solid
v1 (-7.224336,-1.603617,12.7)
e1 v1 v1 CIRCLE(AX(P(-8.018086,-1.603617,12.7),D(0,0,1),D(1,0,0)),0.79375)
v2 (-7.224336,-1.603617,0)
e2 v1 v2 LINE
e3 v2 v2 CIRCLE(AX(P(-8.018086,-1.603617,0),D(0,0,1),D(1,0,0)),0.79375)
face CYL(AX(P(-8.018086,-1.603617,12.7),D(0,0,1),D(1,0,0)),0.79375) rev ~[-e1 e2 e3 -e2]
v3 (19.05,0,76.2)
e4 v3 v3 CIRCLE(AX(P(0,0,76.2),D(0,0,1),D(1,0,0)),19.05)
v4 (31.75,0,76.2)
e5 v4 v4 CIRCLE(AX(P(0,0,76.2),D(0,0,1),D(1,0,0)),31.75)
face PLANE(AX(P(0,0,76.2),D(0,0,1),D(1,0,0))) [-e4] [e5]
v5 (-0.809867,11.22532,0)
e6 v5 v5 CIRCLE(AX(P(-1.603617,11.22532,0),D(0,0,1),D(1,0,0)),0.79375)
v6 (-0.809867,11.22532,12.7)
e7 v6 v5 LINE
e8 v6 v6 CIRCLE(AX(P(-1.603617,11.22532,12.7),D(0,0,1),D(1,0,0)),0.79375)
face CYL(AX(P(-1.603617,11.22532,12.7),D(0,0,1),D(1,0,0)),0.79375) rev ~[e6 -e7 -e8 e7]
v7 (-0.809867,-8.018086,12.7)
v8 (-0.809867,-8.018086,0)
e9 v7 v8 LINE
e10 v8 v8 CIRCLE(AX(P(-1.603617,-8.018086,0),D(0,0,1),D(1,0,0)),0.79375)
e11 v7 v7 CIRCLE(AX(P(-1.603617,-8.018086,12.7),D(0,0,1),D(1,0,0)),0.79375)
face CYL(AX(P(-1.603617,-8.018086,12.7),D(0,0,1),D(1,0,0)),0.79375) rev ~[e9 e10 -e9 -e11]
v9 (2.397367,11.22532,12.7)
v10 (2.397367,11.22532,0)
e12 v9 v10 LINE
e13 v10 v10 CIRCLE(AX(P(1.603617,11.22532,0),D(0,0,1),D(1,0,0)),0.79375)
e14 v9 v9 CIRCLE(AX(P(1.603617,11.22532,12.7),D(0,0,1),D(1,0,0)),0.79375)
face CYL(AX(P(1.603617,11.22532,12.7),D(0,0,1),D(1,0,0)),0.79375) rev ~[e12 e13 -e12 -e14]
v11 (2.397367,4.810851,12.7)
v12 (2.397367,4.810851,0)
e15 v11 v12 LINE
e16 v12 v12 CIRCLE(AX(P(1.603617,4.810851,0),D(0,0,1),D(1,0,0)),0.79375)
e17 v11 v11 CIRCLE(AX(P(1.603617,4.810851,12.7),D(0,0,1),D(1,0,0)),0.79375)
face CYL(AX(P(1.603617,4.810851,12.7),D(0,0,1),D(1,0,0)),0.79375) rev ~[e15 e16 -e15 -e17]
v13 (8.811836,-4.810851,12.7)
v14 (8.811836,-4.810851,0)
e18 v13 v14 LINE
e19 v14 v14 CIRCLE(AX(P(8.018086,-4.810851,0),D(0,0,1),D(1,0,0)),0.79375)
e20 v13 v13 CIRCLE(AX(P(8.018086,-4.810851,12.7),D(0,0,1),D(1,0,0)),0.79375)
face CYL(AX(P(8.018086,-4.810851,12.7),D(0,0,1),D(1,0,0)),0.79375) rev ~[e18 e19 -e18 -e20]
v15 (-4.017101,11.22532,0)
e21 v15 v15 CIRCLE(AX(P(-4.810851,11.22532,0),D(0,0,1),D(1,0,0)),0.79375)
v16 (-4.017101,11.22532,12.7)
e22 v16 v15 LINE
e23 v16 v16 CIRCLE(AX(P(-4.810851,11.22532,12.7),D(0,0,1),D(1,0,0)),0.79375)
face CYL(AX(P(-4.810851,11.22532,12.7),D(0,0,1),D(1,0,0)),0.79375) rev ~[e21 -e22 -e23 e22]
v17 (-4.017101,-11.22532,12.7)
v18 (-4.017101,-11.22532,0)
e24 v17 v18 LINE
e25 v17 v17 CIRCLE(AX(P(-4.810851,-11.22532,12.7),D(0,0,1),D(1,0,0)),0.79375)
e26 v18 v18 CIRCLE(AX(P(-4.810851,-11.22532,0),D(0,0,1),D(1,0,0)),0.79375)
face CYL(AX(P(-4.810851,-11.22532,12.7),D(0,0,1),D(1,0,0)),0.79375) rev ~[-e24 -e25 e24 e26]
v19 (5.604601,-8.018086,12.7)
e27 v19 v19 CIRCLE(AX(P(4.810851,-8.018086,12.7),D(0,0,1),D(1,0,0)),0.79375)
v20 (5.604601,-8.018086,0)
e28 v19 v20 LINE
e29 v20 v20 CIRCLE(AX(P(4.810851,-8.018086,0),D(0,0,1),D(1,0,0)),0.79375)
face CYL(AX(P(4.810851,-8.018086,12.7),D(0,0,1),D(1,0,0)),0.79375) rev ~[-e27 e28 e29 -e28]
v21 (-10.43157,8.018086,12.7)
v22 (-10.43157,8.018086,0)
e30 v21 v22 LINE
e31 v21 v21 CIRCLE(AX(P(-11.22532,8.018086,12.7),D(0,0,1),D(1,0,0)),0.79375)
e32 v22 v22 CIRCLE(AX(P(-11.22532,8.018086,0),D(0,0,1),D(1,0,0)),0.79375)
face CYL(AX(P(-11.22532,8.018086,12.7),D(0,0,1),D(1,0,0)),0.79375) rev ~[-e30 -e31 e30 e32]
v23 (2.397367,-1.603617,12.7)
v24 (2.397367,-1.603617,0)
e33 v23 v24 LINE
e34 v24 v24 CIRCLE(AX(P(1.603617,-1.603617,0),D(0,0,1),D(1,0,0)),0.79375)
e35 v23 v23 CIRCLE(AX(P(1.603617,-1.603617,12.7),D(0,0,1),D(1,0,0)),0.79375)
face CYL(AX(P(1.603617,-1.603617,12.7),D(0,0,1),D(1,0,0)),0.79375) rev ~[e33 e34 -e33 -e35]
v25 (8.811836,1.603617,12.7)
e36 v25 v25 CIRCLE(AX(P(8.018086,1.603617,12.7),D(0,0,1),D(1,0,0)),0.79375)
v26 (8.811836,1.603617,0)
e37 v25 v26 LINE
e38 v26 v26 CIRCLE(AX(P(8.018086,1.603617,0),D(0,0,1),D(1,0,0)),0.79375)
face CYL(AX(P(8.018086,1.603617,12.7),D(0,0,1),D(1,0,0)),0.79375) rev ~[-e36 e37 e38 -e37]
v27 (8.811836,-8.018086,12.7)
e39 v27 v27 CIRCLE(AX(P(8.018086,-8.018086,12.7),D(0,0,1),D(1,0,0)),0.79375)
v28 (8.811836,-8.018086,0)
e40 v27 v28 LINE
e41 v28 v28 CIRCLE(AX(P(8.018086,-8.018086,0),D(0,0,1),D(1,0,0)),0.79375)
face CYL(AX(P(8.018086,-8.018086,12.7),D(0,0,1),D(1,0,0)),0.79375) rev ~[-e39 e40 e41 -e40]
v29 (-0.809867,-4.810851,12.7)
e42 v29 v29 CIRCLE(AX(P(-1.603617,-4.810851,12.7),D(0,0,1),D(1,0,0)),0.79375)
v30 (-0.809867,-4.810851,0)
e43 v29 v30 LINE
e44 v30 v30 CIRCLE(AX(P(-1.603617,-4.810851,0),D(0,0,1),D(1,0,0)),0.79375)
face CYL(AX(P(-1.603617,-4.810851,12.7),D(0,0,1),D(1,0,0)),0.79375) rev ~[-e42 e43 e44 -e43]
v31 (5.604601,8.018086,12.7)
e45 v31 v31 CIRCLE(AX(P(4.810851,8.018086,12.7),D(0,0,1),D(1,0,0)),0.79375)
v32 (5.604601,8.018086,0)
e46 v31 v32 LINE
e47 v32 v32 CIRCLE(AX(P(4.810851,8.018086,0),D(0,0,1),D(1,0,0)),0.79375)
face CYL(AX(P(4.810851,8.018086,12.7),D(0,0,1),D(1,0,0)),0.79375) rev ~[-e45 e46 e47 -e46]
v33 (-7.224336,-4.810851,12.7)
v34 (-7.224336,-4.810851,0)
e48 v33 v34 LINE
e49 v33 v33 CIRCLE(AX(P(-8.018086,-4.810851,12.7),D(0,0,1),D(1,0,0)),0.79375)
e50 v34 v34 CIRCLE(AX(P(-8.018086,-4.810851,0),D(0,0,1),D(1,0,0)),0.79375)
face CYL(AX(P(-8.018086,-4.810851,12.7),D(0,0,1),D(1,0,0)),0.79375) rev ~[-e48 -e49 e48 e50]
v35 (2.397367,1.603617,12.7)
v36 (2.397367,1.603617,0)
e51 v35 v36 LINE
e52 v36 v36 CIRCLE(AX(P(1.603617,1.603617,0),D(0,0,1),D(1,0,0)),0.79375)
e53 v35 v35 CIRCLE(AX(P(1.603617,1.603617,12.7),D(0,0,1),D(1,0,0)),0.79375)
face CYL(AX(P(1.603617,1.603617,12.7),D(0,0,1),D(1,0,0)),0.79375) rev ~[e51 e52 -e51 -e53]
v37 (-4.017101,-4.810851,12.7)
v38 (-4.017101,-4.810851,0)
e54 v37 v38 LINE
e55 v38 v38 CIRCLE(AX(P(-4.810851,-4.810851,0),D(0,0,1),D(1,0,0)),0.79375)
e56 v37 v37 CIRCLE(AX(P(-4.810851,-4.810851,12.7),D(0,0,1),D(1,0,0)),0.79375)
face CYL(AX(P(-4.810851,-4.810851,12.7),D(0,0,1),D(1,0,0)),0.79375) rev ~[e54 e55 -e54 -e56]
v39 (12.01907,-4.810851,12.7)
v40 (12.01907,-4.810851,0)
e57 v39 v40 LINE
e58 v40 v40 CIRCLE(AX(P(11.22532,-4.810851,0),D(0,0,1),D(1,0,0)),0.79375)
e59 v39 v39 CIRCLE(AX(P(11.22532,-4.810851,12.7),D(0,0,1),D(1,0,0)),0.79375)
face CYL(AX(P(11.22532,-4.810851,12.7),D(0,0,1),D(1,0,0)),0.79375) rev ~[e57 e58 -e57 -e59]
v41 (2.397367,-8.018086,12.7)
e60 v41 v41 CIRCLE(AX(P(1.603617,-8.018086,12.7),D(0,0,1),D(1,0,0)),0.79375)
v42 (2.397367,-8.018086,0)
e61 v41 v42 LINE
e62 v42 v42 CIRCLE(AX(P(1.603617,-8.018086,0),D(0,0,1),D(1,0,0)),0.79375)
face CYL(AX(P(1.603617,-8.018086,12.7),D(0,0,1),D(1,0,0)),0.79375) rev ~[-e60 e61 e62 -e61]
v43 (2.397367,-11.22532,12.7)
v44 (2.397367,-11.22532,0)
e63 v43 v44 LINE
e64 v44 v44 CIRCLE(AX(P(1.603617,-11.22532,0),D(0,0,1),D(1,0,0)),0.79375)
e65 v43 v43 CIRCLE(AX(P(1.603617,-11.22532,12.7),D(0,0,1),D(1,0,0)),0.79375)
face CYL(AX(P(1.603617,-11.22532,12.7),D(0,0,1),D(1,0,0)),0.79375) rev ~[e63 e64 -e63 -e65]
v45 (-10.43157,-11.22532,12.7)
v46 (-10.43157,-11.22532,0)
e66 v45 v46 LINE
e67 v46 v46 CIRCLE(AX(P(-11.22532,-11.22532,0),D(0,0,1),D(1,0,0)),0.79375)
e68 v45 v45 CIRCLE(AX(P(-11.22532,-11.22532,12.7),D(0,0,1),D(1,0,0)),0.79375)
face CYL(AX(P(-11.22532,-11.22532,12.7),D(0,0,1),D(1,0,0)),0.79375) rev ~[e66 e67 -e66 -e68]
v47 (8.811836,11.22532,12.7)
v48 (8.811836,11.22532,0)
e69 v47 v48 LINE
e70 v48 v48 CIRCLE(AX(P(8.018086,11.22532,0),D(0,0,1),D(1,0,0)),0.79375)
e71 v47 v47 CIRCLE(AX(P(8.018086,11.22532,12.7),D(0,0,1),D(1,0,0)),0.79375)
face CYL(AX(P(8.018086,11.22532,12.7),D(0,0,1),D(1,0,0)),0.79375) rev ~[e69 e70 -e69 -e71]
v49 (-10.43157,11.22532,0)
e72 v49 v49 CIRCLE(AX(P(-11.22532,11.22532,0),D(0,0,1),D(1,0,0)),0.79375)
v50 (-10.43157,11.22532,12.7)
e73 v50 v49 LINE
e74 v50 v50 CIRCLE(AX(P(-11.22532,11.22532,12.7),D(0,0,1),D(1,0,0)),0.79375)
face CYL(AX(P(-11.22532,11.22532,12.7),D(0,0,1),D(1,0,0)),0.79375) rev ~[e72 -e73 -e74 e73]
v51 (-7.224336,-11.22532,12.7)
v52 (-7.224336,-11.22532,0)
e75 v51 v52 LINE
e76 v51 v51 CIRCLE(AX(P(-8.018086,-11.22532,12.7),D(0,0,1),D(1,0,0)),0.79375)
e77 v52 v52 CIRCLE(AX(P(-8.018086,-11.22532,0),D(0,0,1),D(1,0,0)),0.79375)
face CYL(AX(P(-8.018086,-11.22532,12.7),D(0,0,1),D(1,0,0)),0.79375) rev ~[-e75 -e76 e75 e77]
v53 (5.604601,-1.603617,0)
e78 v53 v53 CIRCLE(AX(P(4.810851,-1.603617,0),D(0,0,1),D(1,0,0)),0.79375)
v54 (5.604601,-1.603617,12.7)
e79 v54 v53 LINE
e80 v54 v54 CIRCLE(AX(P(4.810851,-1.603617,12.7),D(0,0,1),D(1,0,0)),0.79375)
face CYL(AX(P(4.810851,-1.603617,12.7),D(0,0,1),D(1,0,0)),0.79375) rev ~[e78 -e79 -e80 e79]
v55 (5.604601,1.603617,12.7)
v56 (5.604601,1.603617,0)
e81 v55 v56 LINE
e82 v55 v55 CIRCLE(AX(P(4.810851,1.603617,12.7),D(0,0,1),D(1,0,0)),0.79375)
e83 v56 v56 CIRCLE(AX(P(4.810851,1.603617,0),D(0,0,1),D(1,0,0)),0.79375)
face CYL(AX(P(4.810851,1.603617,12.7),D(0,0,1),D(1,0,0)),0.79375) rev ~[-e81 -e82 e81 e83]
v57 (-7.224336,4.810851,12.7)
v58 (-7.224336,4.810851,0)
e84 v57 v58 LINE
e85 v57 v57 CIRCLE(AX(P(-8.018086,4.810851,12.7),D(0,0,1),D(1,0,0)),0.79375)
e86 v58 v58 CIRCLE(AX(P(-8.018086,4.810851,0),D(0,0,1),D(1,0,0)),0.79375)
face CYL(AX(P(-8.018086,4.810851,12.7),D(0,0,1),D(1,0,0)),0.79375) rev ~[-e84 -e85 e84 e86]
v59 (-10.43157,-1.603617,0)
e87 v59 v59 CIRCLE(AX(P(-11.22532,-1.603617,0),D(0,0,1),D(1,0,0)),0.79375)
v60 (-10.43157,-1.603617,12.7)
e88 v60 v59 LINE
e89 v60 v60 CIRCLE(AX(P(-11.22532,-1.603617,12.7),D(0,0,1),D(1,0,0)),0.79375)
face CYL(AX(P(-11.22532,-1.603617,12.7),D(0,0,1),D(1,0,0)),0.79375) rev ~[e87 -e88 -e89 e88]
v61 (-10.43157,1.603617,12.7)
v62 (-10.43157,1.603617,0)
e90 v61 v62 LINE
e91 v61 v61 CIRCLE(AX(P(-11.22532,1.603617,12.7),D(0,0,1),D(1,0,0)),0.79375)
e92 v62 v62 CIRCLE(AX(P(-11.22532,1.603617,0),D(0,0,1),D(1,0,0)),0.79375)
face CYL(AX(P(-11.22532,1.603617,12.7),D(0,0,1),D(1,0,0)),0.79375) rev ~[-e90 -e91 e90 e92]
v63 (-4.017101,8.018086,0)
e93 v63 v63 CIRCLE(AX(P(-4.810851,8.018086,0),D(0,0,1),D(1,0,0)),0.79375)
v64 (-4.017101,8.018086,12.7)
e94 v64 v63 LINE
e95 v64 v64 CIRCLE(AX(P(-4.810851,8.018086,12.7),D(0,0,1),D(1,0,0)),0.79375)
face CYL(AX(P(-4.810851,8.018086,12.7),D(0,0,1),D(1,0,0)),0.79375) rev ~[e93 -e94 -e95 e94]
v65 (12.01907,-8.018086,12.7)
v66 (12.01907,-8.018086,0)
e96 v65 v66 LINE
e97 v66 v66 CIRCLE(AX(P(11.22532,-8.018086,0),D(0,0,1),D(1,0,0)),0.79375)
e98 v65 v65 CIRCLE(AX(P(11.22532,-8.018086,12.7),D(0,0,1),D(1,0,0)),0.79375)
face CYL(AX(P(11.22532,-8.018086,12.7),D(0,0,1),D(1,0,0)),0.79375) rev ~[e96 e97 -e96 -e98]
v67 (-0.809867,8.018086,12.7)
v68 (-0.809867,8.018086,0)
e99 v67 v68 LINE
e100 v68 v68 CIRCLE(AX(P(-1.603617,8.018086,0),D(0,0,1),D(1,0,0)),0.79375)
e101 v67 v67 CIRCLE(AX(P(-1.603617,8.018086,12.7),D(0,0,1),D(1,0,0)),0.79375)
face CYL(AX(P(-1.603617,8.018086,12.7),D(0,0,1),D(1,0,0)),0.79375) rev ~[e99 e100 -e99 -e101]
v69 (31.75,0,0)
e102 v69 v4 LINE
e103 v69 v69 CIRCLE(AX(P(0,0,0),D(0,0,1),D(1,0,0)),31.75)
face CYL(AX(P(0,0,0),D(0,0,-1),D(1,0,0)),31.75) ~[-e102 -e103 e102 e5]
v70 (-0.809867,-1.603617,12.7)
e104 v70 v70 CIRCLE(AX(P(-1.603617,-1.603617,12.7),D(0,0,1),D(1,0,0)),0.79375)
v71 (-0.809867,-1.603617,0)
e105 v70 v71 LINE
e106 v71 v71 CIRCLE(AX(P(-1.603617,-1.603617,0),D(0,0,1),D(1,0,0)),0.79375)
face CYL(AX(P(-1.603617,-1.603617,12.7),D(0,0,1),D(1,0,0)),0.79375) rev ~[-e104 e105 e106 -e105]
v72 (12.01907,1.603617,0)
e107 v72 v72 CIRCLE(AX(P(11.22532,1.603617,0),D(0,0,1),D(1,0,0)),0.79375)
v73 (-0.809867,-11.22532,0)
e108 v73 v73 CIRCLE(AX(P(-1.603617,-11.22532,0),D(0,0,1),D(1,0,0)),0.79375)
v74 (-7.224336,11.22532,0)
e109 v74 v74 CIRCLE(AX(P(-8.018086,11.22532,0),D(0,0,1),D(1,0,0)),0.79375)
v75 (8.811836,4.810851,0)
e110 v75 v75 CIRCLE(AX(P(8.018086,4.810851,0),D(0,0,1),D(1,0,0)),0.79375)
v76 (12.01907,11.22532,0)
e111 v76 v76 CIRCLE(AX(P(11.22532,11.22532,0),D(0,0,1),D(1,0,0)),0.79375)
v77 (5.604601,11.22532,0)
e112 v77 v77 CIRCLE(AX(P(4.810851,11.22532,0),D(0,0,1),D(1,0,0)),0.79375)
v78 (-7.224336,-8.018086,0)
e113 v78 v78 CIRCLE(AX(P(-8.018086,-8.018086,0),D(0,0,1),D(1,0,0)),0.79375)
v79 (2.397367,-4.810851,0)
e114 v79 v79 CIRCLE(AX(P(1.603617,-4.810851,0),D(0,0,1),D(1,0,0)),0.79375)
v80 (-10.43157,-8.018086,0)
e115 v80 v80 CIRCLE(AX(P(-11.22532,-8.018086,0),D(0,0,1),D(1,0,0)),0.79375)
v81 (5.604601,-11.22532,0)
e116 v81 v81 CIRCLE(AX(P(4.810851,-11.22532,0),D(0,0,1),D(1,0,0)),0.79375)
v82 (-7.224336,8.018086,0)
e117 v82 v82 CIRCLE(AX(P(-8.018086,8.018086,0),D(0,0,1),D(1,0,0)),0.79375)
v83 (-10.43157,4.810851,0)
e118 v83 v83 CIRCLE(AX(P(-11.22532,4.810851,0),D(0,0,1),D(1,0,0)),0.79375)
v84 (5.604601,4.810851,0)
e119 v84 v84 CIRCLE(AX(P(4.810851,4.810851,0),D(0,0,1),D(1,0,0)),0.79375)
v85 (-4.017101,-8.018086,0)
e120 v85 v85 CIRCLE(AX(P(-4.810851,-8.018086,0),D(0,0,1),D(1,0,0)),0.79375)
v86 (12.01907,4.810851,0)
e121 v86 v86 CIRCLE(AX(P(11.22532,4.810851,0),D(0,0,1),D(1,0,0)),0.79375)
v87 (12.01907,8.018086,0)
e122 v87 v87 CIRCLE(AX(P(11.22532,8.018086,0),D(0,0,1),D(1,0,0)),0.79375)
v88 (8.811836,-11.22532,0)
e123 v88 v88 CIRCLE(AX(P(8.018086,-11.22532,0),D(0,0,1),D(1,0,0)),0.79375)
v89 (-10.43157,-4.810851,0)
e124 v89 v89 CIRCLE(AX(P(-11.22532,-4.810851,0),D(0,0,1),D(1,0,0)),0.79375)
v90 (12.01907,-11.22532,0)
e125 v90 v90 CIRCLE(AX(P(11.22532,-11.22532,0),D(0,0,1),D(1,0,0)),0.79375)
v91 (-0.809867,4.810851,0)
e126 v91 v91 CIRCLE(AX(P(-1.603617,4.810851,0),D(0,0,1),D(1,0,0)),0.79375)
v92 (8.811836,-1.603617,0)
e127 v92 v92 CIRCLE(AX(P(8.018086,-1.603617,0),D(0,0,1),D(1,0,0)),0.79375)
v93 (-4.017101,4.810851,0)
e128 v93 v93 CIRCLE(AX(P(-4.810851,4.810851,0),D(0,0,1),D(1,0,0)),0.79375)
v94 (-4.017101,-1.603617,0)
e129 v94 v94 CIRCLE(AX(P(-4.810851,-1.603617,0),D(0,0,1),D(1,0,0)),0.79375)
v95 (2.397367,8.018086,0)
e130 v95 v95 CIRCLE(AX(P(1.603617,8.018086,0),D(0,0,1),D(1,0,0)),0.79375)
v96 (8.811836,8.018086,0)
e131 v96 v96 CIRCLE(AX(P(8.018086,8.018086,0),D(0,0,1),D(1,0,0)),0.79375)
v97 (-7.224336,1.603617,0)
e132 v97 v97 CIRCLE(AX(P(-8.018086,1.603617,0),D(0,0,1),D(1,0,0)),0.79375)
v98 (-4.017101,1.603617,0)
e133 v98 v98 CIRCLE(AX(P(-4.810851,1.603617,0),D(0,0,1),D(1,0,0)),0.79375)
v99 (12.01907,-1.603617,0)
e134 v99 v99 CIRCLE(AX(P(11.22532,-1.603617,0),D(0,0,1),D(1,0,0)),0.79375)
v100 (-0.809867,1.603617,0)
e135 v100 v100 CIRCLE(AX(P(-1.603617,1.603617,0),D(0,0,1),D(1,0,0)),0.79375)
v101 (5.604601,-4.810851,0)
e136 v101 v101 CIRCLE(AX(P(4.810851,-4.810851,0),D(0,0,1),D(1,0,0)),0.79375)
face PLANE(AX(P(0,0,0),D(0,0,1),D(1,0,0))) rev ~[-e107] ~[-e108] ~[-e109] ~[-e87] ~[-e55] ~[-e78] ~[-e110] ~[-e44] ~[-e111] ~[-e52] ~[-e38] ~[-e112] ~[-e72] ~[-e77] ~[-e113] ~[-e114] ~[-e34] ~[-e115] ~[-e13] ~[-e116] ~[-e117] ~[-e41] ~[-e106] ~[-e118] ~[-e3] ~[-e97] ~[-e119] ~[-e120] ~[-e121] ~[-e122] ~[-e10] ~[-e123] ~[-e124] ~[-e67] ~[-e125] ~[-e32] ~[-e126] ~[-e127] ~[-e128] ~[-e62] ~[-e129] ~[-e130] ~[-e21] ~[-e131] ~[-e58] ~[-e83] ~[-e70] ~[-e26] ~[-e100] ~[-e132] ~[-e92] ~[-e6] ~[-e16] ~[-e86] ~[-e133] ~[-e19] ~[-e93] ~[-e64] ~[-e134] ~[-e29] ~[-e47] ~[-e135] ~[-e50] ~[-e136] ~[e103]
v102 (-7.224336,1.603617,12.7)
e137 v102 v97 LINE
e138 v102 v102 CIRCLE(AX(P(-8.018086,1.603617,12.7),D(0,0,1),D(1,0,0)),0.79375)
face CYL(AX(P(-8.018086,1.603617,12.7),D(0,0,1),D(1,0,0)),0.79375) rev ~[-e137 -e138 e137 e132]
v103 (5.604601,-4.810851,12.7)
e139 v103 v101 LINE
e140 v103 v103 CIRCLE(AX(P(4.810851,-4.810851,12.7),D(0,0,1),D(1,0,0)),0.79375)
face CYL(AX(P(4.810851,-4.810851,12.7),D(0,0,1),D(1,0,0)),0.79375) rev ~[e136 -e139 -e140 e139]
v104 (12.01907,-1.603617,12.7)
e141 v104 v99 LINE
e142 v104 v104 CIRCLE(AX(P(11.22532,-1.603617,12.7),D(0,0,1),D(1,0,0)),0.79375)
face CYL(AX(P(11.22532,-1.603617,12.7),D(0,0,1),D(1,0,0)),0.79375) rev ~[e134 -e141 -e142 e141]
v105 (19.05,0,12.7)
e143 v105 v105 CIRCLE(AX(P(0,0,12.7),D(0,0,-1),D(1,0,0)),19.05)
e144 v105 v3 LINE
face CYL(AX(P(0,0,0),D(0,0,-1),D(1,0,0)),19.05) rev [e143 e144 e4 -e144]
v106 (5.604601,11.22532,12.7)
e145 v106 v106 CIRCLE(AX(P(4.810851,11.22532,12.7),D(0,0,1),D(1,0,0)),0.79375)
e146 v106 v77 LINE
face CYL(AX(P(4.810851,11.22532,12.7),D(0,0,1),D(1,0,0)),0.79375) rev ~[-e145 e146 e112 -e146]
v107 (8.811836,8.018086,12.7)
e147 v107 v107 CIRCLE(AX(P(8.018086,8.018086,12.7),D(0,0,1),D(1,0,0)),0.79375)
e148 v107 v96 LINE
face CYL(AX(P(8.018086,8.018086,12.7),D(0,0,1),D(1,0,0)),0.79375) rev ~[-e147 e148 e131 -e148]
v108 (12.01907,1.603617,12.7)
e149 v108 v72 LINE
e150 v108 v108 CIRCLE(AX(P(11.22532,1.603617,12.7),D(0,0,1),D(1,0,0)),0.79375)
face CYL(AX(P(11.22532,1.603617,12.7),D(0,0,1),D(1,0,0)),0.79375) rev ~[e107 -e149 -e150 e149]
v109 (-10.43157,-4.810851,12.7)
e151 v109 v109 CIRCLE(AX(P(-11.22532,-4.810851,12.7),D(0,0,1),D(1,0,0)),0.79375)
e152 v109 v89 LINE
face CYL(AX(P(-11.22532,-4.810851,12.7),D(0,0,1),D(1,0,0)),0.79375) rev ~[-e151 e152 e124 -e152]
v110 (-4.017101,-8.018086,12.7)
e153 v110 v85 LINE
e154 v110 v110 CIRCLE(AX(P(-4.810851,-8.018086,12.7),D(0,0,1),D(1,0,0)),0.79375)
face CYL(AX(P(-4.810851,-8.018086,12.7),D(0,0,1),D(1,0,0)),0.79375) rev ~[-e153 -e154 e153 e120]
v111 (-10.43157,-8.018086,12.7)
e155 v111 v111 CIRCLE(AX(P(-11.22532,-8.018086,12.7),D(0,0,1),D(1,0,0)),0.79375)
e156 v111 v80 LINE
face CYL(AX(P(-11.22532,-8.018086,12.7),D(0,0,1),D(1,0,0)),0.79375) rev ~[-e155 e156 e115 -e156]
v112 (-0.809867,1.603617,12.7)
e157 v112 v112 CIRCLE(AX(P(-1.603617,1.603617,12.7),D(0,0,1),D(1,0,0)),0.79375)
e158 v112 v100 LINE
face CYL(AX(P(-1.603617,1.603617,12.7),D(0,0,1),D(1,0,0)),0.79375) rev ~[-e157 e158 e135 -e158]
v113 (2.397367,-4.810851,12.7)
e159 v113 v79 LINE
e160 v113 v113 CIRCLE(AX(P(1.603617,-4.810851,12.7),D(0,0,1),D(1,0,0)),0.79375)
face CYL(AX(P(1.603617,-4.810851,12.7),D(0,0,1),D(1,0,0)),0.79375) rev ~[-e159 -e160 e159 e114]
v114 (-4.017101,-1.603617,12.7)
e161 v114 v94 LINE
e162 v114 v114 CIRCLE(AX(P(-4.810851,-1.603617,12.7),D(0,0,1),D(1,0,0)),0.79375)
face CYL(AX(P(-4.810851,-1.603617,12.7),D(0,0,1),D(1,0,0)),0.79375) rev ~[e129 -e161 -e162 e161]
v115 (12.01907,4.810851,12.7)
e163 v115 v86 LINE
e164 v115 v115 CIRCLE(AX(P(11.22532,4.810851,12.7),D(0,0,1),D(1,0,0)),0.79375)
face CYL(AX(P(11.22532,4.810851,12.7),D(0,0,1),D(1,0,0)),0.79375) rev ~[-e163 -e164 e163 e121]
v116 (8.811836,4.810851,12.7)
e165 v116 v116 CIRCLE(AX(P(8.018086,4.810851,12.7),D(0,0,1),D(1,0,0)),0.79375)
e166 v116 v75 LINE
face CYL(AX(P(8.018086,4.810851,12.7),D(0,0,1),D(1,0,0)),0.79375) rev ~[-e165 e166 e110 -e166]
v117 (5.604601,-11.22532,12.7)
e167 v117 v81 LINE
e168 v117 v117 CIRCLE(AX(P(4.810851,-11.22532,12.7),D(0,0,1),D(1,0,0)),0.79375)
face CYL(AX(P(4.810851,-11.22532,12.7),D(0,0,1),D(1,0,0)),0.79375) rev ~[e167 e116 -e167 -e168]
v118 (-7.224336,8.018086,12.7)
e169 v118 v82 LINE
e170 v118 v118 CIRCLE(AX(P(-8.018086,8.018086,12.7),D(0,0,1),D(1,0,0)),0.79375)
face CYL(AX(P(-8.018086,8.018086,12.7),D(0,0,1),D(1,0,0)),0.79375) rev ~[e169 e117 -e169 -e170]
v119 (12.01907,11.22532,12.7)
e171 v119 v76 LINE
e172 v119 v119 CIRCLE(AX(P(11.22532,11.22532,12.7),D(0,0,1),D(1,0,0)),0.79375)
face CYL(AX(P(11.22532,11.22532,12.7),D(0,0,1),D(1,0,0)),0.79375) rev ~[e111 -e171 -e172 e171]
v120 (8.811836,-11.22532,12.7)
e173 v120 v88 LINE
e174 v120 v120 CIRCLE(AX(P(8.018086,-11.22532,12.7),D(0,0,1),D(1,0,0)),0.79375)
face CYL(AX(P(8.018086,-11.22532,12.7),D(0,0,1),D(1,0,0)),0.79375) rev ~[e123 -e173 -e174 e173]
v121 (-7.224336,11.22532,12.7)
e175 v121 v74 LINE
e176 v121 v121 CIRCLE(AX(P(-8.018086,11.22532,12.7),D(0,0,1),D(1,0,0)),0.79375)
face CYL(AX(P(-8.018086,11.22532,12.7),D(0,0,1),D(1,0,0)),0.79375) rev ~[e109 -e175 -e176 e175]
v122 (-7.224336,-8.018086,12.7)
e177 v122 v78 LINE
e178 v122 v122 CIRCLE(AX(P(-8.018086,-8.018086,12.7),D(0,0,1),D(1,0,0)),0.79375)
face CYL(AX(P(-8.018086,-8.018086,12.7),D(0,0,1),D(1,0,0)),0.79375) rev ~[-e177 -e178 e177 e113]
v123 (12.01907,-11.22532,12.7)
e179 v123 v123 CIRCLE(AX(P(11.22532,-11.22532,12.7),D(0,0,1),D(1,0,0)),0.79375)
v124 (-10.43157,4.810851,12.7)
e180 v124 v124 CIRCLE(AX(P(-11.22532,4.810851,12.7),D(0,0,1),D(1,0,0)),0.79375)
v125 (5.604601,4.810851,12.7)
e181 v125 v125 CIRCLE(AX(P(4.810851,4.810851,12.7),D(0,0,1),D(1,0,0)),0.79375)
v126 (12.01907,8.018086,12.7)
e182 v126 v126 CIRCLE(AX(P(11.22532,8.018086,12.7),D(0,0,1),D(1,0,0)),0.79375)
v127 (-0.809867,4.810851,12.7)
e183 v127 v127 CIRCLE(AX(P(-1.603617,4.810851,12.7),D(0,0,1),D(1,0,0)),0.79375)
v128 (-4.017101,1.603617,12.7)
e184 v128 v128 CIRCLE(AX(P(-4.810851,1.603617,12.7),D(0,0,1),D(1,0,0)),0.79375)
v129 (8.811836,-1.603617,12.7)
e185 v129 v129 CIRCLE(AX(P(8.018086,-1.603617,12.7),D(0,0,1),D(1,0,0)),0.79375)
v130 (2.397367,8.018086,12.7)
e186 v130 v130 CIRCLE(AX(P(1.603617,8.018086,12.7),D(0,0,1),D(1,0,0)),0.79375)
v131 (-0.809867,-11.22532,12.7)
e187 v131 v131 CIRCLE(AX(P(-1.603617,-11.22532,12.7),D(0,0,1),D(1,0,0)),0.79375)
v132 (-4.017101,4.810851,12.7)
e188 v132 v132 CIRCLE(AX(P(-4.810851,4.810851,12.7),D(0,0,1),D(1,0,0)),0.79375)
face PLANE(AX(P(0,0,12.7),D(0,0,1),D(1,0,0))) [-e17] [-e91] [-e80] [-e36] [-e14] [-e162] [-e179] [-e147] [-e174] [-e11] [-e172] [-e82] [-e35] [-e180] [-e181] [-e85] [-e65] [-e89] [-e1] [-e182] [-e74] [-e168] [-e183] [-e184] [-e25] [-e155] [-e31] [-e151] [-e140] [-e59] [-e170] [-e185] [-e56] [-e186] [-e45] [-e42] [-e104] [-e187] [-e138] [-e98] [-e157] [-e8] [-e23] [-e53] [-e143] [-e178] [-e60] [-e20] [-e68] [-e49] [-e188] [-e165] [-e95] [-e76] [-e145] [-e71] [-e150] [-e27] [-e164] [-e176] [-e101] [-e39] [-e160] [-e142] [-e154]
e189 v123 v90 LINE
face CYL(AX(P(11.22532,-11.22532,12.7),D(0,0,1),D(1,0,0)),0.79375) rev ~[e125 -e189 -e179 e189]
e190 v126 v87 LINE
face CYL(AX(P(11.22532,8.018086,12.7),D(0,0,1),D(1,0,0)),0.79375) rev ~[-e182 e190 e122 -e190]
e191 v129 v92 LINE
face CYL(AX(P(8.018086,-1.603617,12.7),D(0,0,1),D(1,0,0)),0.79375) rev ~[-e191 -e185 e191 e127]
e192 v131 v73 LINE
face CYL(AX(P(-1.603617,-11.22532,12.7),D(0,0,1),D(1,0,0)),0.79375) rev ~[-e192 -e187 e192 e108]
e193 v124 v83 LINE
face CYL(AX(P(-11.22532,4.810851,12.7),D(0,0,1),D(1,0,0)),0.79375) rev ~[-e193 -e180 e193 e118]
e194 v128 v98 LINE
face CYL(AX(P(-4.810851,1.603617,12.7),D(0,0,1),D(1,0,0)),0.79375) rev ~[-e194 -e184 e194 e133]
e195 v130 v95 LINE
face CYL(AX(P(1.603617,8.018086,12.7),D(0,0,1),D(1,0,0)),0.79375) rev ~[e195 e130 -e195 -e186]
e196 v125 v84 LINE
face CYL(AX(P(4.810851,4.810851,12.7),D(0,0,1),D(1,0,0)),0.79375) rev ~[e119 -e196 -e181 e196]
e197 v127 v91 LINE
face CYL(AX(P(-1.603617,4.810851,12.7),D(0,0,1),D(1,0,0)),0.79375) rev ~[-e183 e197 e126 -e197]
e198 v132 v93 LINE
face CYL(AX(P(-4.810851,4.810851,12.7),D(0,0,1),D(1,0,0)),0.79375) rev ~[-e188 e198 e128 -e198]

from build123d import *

# Parameters (mm, degrees)
F0_R     = 31.75
F1_DEPTH = 76.2
F2_T     = -12.7
F3_R     = 0.79375
F4_DEPTH = 12.7


with BuildPart() as f1:
    # F0 (on Top) → F1 (new body)
    with BuildSketch(Plane.XY):
        Circle(F0_R)
    extrude(amount=F1_DEPTH)

    # F2
    f2_openings = [f1.faces().sort_by_distance(p)[0] for p in [
        (0, 0, 76.2),
    ]]
    offset(amount=F2_T, openings=f2_openings)

    # F3 (on face) → F4 (cut, through all)
    with BuildSketch(Plane.XY.offset(12.7)):
        with Locations((11.22532, -11.22532)):
            Circle(F3_R)
        with Locations((11.22532, -8.018086)):
            Circle(F3_R)
        with Locations((11.22532, -4.810851)):
            Circle(F3_R)
        with Locations((11.22532, -1.603617)):
            Circle(F3_R)
        with Locations((11.22532, 1.603617)):
            Circle(F3_R)
        with Locations((11.22532, 4.810851)):
            Circle(F3_R)
        with Locations((8.018086, 4.810851)):
            Circle(F3_R)
        with Locations((11.22532, 8.018086)):
            Circle(F3_R)
        with Locations((11.22532, 11.22532)):
            Circle(F3_R)
        with Locations((8.018086, 11.22532)):
            Circle(F3_R)
        with Locations((8.018086, 8.018086)):
            Circle(F3_R)
        with Locations((8.018086, 1.603617)):
            Circle(F3_R)
        with Locations((8.018086, -1.603617)):
            Circle(F3_R)
        with Locations((8.018086, -4.810851)):
            Circle(F3_R)
        with Locations((8.018086, -11.22532)):
            Circle(F3_R)
        with Locations((8.018086, -8.018086)):
            Circle(F3_R)
        with Locations((4.810851, -8.018086)):
            Circle(F3_R)
        with Locations((4.810851, -11.22532)):
            Circle(F3_R)
        with Locations((4.810851, -4.810851)):
            Circle(F3_R)
        with Locations((4.810851, -1.603617)):
            Circle(F3_R)
        with Locations((4.810851, 1.603617)):
            Circle(F3_R)
        with Locations((4.810851, 4.810851)):
            Circle(F3_R)
        with Locations((4.810851, 8.018086)):
            Circle(F3_R)
        with Locations((4.810851, 11.22532)):
            Circle(F3_R)
        with Locations((1.603617, -11.22532)):
            Circle(F3_R)
        with Locations((1.603617, -4.810851)):
            Circle(F3_R)
        with Locations((1.603617, -8.018086)):
            Circle(F3_R)
        with Locations((1.603617, -1.603617)):
            Circle(F3_R)
        with Locations((1.603617, 1.603617)):
            Circle(F3_R)
        with Locations((1.603617, 4.810851)):
            Circle(F3_R)
        with Locations((1.603617, 8.018086)):
            Circle(F3_R)
        with Locations((1.603617, 11.22532)):
            Circle(F3_R)
        with Locations((-1.603617, 11.22532)):
            Circle(F3_R)
        with Locations((-1.603617, -11.22532)):
            Circle(F3_R)
        with Locations((-4.810851, -11.22532)):
            Circle(F3_R)
        with Locations((-4.810851, -8.018086)):
            Circle(F3_R)
        with Locations((-1.603617, -8.018086)):
            Circle(F3_R)
        with Locations((-1.603617, -4.810851)):
            Circle(F3_R)
        with Locations((-4.810851, -4.810851)):
            Circle(F3_R)
        with Locations((-4.810851, -1.603617)):
            Circle(F3_R)
        with Locations((-1.603617, -1.603617)):
            Circle(F3_R)
        with Locations((-1.603617, 1.603617)):
            Circle(F3_R)
        with Locations((-4.810851, 1.603617)):
            Circle(F3_R)
        with Locations((-4.810851, 4.810851)):
            Circle(F3_R)
        with Locations((-1.603617, 4.810851)):
            Circle(F3_R)
        with Locations((-1.603617, 8.018086)):
            Circle(F3_R)
        with Locations((-4.810851, 8.018086)):
            Circle(F3_R)
        with Locations((-4.810851, 11.22532)):
            Circle(F3_R)
        with Locations((-8.018086, 8.018086)):
            Circle(F3_R)
        with Locations((-8.018086, 11.22532)):
            Circle(F3_R)
        with Locations((-11.22532, 11.22532)):
            Circle(F3_R)
        with Locations((-11.22532, 8.018086)):
            Circle(F3_R)
        with Locations((-11.22532, 4.810851)):
            Circle(F3_R)
        with Locations((-8.018086, 4.810851)):
            Circle(F3_R)
        with Locations((-11.22532, 1.603617)):
            Circle(F3_R)
        with Locations((-8.018086, 1.603617)):
            Circle(F3_R)
        with Locations((-8.018086, -1.603617)):
            Circle(F3_R)
        with Locations((-11.22532, -1.603617)):
            Circle(F3_R)
        with Locations((-11.22532, -4.810851)):
            Circle(F3_R)
        with Locations((-8.018086, -4.810851)):
            Circle(F3_R)
        with Locations((-8.018086, -8.018086)):
            Circle(F3_R)
        with Locations((-11.22532, -8.018086)):
            Circle(F3_R)
        with Locations((-11.22532, -11.22532)):
            Circle(F3_R)
        with Locations((-8.018086, -11.22532)):
            Circle(F3_R)
    extrude(amount=-F4_DEPTH, mode=Mode.SUBTRACT)


solid = f1.part
